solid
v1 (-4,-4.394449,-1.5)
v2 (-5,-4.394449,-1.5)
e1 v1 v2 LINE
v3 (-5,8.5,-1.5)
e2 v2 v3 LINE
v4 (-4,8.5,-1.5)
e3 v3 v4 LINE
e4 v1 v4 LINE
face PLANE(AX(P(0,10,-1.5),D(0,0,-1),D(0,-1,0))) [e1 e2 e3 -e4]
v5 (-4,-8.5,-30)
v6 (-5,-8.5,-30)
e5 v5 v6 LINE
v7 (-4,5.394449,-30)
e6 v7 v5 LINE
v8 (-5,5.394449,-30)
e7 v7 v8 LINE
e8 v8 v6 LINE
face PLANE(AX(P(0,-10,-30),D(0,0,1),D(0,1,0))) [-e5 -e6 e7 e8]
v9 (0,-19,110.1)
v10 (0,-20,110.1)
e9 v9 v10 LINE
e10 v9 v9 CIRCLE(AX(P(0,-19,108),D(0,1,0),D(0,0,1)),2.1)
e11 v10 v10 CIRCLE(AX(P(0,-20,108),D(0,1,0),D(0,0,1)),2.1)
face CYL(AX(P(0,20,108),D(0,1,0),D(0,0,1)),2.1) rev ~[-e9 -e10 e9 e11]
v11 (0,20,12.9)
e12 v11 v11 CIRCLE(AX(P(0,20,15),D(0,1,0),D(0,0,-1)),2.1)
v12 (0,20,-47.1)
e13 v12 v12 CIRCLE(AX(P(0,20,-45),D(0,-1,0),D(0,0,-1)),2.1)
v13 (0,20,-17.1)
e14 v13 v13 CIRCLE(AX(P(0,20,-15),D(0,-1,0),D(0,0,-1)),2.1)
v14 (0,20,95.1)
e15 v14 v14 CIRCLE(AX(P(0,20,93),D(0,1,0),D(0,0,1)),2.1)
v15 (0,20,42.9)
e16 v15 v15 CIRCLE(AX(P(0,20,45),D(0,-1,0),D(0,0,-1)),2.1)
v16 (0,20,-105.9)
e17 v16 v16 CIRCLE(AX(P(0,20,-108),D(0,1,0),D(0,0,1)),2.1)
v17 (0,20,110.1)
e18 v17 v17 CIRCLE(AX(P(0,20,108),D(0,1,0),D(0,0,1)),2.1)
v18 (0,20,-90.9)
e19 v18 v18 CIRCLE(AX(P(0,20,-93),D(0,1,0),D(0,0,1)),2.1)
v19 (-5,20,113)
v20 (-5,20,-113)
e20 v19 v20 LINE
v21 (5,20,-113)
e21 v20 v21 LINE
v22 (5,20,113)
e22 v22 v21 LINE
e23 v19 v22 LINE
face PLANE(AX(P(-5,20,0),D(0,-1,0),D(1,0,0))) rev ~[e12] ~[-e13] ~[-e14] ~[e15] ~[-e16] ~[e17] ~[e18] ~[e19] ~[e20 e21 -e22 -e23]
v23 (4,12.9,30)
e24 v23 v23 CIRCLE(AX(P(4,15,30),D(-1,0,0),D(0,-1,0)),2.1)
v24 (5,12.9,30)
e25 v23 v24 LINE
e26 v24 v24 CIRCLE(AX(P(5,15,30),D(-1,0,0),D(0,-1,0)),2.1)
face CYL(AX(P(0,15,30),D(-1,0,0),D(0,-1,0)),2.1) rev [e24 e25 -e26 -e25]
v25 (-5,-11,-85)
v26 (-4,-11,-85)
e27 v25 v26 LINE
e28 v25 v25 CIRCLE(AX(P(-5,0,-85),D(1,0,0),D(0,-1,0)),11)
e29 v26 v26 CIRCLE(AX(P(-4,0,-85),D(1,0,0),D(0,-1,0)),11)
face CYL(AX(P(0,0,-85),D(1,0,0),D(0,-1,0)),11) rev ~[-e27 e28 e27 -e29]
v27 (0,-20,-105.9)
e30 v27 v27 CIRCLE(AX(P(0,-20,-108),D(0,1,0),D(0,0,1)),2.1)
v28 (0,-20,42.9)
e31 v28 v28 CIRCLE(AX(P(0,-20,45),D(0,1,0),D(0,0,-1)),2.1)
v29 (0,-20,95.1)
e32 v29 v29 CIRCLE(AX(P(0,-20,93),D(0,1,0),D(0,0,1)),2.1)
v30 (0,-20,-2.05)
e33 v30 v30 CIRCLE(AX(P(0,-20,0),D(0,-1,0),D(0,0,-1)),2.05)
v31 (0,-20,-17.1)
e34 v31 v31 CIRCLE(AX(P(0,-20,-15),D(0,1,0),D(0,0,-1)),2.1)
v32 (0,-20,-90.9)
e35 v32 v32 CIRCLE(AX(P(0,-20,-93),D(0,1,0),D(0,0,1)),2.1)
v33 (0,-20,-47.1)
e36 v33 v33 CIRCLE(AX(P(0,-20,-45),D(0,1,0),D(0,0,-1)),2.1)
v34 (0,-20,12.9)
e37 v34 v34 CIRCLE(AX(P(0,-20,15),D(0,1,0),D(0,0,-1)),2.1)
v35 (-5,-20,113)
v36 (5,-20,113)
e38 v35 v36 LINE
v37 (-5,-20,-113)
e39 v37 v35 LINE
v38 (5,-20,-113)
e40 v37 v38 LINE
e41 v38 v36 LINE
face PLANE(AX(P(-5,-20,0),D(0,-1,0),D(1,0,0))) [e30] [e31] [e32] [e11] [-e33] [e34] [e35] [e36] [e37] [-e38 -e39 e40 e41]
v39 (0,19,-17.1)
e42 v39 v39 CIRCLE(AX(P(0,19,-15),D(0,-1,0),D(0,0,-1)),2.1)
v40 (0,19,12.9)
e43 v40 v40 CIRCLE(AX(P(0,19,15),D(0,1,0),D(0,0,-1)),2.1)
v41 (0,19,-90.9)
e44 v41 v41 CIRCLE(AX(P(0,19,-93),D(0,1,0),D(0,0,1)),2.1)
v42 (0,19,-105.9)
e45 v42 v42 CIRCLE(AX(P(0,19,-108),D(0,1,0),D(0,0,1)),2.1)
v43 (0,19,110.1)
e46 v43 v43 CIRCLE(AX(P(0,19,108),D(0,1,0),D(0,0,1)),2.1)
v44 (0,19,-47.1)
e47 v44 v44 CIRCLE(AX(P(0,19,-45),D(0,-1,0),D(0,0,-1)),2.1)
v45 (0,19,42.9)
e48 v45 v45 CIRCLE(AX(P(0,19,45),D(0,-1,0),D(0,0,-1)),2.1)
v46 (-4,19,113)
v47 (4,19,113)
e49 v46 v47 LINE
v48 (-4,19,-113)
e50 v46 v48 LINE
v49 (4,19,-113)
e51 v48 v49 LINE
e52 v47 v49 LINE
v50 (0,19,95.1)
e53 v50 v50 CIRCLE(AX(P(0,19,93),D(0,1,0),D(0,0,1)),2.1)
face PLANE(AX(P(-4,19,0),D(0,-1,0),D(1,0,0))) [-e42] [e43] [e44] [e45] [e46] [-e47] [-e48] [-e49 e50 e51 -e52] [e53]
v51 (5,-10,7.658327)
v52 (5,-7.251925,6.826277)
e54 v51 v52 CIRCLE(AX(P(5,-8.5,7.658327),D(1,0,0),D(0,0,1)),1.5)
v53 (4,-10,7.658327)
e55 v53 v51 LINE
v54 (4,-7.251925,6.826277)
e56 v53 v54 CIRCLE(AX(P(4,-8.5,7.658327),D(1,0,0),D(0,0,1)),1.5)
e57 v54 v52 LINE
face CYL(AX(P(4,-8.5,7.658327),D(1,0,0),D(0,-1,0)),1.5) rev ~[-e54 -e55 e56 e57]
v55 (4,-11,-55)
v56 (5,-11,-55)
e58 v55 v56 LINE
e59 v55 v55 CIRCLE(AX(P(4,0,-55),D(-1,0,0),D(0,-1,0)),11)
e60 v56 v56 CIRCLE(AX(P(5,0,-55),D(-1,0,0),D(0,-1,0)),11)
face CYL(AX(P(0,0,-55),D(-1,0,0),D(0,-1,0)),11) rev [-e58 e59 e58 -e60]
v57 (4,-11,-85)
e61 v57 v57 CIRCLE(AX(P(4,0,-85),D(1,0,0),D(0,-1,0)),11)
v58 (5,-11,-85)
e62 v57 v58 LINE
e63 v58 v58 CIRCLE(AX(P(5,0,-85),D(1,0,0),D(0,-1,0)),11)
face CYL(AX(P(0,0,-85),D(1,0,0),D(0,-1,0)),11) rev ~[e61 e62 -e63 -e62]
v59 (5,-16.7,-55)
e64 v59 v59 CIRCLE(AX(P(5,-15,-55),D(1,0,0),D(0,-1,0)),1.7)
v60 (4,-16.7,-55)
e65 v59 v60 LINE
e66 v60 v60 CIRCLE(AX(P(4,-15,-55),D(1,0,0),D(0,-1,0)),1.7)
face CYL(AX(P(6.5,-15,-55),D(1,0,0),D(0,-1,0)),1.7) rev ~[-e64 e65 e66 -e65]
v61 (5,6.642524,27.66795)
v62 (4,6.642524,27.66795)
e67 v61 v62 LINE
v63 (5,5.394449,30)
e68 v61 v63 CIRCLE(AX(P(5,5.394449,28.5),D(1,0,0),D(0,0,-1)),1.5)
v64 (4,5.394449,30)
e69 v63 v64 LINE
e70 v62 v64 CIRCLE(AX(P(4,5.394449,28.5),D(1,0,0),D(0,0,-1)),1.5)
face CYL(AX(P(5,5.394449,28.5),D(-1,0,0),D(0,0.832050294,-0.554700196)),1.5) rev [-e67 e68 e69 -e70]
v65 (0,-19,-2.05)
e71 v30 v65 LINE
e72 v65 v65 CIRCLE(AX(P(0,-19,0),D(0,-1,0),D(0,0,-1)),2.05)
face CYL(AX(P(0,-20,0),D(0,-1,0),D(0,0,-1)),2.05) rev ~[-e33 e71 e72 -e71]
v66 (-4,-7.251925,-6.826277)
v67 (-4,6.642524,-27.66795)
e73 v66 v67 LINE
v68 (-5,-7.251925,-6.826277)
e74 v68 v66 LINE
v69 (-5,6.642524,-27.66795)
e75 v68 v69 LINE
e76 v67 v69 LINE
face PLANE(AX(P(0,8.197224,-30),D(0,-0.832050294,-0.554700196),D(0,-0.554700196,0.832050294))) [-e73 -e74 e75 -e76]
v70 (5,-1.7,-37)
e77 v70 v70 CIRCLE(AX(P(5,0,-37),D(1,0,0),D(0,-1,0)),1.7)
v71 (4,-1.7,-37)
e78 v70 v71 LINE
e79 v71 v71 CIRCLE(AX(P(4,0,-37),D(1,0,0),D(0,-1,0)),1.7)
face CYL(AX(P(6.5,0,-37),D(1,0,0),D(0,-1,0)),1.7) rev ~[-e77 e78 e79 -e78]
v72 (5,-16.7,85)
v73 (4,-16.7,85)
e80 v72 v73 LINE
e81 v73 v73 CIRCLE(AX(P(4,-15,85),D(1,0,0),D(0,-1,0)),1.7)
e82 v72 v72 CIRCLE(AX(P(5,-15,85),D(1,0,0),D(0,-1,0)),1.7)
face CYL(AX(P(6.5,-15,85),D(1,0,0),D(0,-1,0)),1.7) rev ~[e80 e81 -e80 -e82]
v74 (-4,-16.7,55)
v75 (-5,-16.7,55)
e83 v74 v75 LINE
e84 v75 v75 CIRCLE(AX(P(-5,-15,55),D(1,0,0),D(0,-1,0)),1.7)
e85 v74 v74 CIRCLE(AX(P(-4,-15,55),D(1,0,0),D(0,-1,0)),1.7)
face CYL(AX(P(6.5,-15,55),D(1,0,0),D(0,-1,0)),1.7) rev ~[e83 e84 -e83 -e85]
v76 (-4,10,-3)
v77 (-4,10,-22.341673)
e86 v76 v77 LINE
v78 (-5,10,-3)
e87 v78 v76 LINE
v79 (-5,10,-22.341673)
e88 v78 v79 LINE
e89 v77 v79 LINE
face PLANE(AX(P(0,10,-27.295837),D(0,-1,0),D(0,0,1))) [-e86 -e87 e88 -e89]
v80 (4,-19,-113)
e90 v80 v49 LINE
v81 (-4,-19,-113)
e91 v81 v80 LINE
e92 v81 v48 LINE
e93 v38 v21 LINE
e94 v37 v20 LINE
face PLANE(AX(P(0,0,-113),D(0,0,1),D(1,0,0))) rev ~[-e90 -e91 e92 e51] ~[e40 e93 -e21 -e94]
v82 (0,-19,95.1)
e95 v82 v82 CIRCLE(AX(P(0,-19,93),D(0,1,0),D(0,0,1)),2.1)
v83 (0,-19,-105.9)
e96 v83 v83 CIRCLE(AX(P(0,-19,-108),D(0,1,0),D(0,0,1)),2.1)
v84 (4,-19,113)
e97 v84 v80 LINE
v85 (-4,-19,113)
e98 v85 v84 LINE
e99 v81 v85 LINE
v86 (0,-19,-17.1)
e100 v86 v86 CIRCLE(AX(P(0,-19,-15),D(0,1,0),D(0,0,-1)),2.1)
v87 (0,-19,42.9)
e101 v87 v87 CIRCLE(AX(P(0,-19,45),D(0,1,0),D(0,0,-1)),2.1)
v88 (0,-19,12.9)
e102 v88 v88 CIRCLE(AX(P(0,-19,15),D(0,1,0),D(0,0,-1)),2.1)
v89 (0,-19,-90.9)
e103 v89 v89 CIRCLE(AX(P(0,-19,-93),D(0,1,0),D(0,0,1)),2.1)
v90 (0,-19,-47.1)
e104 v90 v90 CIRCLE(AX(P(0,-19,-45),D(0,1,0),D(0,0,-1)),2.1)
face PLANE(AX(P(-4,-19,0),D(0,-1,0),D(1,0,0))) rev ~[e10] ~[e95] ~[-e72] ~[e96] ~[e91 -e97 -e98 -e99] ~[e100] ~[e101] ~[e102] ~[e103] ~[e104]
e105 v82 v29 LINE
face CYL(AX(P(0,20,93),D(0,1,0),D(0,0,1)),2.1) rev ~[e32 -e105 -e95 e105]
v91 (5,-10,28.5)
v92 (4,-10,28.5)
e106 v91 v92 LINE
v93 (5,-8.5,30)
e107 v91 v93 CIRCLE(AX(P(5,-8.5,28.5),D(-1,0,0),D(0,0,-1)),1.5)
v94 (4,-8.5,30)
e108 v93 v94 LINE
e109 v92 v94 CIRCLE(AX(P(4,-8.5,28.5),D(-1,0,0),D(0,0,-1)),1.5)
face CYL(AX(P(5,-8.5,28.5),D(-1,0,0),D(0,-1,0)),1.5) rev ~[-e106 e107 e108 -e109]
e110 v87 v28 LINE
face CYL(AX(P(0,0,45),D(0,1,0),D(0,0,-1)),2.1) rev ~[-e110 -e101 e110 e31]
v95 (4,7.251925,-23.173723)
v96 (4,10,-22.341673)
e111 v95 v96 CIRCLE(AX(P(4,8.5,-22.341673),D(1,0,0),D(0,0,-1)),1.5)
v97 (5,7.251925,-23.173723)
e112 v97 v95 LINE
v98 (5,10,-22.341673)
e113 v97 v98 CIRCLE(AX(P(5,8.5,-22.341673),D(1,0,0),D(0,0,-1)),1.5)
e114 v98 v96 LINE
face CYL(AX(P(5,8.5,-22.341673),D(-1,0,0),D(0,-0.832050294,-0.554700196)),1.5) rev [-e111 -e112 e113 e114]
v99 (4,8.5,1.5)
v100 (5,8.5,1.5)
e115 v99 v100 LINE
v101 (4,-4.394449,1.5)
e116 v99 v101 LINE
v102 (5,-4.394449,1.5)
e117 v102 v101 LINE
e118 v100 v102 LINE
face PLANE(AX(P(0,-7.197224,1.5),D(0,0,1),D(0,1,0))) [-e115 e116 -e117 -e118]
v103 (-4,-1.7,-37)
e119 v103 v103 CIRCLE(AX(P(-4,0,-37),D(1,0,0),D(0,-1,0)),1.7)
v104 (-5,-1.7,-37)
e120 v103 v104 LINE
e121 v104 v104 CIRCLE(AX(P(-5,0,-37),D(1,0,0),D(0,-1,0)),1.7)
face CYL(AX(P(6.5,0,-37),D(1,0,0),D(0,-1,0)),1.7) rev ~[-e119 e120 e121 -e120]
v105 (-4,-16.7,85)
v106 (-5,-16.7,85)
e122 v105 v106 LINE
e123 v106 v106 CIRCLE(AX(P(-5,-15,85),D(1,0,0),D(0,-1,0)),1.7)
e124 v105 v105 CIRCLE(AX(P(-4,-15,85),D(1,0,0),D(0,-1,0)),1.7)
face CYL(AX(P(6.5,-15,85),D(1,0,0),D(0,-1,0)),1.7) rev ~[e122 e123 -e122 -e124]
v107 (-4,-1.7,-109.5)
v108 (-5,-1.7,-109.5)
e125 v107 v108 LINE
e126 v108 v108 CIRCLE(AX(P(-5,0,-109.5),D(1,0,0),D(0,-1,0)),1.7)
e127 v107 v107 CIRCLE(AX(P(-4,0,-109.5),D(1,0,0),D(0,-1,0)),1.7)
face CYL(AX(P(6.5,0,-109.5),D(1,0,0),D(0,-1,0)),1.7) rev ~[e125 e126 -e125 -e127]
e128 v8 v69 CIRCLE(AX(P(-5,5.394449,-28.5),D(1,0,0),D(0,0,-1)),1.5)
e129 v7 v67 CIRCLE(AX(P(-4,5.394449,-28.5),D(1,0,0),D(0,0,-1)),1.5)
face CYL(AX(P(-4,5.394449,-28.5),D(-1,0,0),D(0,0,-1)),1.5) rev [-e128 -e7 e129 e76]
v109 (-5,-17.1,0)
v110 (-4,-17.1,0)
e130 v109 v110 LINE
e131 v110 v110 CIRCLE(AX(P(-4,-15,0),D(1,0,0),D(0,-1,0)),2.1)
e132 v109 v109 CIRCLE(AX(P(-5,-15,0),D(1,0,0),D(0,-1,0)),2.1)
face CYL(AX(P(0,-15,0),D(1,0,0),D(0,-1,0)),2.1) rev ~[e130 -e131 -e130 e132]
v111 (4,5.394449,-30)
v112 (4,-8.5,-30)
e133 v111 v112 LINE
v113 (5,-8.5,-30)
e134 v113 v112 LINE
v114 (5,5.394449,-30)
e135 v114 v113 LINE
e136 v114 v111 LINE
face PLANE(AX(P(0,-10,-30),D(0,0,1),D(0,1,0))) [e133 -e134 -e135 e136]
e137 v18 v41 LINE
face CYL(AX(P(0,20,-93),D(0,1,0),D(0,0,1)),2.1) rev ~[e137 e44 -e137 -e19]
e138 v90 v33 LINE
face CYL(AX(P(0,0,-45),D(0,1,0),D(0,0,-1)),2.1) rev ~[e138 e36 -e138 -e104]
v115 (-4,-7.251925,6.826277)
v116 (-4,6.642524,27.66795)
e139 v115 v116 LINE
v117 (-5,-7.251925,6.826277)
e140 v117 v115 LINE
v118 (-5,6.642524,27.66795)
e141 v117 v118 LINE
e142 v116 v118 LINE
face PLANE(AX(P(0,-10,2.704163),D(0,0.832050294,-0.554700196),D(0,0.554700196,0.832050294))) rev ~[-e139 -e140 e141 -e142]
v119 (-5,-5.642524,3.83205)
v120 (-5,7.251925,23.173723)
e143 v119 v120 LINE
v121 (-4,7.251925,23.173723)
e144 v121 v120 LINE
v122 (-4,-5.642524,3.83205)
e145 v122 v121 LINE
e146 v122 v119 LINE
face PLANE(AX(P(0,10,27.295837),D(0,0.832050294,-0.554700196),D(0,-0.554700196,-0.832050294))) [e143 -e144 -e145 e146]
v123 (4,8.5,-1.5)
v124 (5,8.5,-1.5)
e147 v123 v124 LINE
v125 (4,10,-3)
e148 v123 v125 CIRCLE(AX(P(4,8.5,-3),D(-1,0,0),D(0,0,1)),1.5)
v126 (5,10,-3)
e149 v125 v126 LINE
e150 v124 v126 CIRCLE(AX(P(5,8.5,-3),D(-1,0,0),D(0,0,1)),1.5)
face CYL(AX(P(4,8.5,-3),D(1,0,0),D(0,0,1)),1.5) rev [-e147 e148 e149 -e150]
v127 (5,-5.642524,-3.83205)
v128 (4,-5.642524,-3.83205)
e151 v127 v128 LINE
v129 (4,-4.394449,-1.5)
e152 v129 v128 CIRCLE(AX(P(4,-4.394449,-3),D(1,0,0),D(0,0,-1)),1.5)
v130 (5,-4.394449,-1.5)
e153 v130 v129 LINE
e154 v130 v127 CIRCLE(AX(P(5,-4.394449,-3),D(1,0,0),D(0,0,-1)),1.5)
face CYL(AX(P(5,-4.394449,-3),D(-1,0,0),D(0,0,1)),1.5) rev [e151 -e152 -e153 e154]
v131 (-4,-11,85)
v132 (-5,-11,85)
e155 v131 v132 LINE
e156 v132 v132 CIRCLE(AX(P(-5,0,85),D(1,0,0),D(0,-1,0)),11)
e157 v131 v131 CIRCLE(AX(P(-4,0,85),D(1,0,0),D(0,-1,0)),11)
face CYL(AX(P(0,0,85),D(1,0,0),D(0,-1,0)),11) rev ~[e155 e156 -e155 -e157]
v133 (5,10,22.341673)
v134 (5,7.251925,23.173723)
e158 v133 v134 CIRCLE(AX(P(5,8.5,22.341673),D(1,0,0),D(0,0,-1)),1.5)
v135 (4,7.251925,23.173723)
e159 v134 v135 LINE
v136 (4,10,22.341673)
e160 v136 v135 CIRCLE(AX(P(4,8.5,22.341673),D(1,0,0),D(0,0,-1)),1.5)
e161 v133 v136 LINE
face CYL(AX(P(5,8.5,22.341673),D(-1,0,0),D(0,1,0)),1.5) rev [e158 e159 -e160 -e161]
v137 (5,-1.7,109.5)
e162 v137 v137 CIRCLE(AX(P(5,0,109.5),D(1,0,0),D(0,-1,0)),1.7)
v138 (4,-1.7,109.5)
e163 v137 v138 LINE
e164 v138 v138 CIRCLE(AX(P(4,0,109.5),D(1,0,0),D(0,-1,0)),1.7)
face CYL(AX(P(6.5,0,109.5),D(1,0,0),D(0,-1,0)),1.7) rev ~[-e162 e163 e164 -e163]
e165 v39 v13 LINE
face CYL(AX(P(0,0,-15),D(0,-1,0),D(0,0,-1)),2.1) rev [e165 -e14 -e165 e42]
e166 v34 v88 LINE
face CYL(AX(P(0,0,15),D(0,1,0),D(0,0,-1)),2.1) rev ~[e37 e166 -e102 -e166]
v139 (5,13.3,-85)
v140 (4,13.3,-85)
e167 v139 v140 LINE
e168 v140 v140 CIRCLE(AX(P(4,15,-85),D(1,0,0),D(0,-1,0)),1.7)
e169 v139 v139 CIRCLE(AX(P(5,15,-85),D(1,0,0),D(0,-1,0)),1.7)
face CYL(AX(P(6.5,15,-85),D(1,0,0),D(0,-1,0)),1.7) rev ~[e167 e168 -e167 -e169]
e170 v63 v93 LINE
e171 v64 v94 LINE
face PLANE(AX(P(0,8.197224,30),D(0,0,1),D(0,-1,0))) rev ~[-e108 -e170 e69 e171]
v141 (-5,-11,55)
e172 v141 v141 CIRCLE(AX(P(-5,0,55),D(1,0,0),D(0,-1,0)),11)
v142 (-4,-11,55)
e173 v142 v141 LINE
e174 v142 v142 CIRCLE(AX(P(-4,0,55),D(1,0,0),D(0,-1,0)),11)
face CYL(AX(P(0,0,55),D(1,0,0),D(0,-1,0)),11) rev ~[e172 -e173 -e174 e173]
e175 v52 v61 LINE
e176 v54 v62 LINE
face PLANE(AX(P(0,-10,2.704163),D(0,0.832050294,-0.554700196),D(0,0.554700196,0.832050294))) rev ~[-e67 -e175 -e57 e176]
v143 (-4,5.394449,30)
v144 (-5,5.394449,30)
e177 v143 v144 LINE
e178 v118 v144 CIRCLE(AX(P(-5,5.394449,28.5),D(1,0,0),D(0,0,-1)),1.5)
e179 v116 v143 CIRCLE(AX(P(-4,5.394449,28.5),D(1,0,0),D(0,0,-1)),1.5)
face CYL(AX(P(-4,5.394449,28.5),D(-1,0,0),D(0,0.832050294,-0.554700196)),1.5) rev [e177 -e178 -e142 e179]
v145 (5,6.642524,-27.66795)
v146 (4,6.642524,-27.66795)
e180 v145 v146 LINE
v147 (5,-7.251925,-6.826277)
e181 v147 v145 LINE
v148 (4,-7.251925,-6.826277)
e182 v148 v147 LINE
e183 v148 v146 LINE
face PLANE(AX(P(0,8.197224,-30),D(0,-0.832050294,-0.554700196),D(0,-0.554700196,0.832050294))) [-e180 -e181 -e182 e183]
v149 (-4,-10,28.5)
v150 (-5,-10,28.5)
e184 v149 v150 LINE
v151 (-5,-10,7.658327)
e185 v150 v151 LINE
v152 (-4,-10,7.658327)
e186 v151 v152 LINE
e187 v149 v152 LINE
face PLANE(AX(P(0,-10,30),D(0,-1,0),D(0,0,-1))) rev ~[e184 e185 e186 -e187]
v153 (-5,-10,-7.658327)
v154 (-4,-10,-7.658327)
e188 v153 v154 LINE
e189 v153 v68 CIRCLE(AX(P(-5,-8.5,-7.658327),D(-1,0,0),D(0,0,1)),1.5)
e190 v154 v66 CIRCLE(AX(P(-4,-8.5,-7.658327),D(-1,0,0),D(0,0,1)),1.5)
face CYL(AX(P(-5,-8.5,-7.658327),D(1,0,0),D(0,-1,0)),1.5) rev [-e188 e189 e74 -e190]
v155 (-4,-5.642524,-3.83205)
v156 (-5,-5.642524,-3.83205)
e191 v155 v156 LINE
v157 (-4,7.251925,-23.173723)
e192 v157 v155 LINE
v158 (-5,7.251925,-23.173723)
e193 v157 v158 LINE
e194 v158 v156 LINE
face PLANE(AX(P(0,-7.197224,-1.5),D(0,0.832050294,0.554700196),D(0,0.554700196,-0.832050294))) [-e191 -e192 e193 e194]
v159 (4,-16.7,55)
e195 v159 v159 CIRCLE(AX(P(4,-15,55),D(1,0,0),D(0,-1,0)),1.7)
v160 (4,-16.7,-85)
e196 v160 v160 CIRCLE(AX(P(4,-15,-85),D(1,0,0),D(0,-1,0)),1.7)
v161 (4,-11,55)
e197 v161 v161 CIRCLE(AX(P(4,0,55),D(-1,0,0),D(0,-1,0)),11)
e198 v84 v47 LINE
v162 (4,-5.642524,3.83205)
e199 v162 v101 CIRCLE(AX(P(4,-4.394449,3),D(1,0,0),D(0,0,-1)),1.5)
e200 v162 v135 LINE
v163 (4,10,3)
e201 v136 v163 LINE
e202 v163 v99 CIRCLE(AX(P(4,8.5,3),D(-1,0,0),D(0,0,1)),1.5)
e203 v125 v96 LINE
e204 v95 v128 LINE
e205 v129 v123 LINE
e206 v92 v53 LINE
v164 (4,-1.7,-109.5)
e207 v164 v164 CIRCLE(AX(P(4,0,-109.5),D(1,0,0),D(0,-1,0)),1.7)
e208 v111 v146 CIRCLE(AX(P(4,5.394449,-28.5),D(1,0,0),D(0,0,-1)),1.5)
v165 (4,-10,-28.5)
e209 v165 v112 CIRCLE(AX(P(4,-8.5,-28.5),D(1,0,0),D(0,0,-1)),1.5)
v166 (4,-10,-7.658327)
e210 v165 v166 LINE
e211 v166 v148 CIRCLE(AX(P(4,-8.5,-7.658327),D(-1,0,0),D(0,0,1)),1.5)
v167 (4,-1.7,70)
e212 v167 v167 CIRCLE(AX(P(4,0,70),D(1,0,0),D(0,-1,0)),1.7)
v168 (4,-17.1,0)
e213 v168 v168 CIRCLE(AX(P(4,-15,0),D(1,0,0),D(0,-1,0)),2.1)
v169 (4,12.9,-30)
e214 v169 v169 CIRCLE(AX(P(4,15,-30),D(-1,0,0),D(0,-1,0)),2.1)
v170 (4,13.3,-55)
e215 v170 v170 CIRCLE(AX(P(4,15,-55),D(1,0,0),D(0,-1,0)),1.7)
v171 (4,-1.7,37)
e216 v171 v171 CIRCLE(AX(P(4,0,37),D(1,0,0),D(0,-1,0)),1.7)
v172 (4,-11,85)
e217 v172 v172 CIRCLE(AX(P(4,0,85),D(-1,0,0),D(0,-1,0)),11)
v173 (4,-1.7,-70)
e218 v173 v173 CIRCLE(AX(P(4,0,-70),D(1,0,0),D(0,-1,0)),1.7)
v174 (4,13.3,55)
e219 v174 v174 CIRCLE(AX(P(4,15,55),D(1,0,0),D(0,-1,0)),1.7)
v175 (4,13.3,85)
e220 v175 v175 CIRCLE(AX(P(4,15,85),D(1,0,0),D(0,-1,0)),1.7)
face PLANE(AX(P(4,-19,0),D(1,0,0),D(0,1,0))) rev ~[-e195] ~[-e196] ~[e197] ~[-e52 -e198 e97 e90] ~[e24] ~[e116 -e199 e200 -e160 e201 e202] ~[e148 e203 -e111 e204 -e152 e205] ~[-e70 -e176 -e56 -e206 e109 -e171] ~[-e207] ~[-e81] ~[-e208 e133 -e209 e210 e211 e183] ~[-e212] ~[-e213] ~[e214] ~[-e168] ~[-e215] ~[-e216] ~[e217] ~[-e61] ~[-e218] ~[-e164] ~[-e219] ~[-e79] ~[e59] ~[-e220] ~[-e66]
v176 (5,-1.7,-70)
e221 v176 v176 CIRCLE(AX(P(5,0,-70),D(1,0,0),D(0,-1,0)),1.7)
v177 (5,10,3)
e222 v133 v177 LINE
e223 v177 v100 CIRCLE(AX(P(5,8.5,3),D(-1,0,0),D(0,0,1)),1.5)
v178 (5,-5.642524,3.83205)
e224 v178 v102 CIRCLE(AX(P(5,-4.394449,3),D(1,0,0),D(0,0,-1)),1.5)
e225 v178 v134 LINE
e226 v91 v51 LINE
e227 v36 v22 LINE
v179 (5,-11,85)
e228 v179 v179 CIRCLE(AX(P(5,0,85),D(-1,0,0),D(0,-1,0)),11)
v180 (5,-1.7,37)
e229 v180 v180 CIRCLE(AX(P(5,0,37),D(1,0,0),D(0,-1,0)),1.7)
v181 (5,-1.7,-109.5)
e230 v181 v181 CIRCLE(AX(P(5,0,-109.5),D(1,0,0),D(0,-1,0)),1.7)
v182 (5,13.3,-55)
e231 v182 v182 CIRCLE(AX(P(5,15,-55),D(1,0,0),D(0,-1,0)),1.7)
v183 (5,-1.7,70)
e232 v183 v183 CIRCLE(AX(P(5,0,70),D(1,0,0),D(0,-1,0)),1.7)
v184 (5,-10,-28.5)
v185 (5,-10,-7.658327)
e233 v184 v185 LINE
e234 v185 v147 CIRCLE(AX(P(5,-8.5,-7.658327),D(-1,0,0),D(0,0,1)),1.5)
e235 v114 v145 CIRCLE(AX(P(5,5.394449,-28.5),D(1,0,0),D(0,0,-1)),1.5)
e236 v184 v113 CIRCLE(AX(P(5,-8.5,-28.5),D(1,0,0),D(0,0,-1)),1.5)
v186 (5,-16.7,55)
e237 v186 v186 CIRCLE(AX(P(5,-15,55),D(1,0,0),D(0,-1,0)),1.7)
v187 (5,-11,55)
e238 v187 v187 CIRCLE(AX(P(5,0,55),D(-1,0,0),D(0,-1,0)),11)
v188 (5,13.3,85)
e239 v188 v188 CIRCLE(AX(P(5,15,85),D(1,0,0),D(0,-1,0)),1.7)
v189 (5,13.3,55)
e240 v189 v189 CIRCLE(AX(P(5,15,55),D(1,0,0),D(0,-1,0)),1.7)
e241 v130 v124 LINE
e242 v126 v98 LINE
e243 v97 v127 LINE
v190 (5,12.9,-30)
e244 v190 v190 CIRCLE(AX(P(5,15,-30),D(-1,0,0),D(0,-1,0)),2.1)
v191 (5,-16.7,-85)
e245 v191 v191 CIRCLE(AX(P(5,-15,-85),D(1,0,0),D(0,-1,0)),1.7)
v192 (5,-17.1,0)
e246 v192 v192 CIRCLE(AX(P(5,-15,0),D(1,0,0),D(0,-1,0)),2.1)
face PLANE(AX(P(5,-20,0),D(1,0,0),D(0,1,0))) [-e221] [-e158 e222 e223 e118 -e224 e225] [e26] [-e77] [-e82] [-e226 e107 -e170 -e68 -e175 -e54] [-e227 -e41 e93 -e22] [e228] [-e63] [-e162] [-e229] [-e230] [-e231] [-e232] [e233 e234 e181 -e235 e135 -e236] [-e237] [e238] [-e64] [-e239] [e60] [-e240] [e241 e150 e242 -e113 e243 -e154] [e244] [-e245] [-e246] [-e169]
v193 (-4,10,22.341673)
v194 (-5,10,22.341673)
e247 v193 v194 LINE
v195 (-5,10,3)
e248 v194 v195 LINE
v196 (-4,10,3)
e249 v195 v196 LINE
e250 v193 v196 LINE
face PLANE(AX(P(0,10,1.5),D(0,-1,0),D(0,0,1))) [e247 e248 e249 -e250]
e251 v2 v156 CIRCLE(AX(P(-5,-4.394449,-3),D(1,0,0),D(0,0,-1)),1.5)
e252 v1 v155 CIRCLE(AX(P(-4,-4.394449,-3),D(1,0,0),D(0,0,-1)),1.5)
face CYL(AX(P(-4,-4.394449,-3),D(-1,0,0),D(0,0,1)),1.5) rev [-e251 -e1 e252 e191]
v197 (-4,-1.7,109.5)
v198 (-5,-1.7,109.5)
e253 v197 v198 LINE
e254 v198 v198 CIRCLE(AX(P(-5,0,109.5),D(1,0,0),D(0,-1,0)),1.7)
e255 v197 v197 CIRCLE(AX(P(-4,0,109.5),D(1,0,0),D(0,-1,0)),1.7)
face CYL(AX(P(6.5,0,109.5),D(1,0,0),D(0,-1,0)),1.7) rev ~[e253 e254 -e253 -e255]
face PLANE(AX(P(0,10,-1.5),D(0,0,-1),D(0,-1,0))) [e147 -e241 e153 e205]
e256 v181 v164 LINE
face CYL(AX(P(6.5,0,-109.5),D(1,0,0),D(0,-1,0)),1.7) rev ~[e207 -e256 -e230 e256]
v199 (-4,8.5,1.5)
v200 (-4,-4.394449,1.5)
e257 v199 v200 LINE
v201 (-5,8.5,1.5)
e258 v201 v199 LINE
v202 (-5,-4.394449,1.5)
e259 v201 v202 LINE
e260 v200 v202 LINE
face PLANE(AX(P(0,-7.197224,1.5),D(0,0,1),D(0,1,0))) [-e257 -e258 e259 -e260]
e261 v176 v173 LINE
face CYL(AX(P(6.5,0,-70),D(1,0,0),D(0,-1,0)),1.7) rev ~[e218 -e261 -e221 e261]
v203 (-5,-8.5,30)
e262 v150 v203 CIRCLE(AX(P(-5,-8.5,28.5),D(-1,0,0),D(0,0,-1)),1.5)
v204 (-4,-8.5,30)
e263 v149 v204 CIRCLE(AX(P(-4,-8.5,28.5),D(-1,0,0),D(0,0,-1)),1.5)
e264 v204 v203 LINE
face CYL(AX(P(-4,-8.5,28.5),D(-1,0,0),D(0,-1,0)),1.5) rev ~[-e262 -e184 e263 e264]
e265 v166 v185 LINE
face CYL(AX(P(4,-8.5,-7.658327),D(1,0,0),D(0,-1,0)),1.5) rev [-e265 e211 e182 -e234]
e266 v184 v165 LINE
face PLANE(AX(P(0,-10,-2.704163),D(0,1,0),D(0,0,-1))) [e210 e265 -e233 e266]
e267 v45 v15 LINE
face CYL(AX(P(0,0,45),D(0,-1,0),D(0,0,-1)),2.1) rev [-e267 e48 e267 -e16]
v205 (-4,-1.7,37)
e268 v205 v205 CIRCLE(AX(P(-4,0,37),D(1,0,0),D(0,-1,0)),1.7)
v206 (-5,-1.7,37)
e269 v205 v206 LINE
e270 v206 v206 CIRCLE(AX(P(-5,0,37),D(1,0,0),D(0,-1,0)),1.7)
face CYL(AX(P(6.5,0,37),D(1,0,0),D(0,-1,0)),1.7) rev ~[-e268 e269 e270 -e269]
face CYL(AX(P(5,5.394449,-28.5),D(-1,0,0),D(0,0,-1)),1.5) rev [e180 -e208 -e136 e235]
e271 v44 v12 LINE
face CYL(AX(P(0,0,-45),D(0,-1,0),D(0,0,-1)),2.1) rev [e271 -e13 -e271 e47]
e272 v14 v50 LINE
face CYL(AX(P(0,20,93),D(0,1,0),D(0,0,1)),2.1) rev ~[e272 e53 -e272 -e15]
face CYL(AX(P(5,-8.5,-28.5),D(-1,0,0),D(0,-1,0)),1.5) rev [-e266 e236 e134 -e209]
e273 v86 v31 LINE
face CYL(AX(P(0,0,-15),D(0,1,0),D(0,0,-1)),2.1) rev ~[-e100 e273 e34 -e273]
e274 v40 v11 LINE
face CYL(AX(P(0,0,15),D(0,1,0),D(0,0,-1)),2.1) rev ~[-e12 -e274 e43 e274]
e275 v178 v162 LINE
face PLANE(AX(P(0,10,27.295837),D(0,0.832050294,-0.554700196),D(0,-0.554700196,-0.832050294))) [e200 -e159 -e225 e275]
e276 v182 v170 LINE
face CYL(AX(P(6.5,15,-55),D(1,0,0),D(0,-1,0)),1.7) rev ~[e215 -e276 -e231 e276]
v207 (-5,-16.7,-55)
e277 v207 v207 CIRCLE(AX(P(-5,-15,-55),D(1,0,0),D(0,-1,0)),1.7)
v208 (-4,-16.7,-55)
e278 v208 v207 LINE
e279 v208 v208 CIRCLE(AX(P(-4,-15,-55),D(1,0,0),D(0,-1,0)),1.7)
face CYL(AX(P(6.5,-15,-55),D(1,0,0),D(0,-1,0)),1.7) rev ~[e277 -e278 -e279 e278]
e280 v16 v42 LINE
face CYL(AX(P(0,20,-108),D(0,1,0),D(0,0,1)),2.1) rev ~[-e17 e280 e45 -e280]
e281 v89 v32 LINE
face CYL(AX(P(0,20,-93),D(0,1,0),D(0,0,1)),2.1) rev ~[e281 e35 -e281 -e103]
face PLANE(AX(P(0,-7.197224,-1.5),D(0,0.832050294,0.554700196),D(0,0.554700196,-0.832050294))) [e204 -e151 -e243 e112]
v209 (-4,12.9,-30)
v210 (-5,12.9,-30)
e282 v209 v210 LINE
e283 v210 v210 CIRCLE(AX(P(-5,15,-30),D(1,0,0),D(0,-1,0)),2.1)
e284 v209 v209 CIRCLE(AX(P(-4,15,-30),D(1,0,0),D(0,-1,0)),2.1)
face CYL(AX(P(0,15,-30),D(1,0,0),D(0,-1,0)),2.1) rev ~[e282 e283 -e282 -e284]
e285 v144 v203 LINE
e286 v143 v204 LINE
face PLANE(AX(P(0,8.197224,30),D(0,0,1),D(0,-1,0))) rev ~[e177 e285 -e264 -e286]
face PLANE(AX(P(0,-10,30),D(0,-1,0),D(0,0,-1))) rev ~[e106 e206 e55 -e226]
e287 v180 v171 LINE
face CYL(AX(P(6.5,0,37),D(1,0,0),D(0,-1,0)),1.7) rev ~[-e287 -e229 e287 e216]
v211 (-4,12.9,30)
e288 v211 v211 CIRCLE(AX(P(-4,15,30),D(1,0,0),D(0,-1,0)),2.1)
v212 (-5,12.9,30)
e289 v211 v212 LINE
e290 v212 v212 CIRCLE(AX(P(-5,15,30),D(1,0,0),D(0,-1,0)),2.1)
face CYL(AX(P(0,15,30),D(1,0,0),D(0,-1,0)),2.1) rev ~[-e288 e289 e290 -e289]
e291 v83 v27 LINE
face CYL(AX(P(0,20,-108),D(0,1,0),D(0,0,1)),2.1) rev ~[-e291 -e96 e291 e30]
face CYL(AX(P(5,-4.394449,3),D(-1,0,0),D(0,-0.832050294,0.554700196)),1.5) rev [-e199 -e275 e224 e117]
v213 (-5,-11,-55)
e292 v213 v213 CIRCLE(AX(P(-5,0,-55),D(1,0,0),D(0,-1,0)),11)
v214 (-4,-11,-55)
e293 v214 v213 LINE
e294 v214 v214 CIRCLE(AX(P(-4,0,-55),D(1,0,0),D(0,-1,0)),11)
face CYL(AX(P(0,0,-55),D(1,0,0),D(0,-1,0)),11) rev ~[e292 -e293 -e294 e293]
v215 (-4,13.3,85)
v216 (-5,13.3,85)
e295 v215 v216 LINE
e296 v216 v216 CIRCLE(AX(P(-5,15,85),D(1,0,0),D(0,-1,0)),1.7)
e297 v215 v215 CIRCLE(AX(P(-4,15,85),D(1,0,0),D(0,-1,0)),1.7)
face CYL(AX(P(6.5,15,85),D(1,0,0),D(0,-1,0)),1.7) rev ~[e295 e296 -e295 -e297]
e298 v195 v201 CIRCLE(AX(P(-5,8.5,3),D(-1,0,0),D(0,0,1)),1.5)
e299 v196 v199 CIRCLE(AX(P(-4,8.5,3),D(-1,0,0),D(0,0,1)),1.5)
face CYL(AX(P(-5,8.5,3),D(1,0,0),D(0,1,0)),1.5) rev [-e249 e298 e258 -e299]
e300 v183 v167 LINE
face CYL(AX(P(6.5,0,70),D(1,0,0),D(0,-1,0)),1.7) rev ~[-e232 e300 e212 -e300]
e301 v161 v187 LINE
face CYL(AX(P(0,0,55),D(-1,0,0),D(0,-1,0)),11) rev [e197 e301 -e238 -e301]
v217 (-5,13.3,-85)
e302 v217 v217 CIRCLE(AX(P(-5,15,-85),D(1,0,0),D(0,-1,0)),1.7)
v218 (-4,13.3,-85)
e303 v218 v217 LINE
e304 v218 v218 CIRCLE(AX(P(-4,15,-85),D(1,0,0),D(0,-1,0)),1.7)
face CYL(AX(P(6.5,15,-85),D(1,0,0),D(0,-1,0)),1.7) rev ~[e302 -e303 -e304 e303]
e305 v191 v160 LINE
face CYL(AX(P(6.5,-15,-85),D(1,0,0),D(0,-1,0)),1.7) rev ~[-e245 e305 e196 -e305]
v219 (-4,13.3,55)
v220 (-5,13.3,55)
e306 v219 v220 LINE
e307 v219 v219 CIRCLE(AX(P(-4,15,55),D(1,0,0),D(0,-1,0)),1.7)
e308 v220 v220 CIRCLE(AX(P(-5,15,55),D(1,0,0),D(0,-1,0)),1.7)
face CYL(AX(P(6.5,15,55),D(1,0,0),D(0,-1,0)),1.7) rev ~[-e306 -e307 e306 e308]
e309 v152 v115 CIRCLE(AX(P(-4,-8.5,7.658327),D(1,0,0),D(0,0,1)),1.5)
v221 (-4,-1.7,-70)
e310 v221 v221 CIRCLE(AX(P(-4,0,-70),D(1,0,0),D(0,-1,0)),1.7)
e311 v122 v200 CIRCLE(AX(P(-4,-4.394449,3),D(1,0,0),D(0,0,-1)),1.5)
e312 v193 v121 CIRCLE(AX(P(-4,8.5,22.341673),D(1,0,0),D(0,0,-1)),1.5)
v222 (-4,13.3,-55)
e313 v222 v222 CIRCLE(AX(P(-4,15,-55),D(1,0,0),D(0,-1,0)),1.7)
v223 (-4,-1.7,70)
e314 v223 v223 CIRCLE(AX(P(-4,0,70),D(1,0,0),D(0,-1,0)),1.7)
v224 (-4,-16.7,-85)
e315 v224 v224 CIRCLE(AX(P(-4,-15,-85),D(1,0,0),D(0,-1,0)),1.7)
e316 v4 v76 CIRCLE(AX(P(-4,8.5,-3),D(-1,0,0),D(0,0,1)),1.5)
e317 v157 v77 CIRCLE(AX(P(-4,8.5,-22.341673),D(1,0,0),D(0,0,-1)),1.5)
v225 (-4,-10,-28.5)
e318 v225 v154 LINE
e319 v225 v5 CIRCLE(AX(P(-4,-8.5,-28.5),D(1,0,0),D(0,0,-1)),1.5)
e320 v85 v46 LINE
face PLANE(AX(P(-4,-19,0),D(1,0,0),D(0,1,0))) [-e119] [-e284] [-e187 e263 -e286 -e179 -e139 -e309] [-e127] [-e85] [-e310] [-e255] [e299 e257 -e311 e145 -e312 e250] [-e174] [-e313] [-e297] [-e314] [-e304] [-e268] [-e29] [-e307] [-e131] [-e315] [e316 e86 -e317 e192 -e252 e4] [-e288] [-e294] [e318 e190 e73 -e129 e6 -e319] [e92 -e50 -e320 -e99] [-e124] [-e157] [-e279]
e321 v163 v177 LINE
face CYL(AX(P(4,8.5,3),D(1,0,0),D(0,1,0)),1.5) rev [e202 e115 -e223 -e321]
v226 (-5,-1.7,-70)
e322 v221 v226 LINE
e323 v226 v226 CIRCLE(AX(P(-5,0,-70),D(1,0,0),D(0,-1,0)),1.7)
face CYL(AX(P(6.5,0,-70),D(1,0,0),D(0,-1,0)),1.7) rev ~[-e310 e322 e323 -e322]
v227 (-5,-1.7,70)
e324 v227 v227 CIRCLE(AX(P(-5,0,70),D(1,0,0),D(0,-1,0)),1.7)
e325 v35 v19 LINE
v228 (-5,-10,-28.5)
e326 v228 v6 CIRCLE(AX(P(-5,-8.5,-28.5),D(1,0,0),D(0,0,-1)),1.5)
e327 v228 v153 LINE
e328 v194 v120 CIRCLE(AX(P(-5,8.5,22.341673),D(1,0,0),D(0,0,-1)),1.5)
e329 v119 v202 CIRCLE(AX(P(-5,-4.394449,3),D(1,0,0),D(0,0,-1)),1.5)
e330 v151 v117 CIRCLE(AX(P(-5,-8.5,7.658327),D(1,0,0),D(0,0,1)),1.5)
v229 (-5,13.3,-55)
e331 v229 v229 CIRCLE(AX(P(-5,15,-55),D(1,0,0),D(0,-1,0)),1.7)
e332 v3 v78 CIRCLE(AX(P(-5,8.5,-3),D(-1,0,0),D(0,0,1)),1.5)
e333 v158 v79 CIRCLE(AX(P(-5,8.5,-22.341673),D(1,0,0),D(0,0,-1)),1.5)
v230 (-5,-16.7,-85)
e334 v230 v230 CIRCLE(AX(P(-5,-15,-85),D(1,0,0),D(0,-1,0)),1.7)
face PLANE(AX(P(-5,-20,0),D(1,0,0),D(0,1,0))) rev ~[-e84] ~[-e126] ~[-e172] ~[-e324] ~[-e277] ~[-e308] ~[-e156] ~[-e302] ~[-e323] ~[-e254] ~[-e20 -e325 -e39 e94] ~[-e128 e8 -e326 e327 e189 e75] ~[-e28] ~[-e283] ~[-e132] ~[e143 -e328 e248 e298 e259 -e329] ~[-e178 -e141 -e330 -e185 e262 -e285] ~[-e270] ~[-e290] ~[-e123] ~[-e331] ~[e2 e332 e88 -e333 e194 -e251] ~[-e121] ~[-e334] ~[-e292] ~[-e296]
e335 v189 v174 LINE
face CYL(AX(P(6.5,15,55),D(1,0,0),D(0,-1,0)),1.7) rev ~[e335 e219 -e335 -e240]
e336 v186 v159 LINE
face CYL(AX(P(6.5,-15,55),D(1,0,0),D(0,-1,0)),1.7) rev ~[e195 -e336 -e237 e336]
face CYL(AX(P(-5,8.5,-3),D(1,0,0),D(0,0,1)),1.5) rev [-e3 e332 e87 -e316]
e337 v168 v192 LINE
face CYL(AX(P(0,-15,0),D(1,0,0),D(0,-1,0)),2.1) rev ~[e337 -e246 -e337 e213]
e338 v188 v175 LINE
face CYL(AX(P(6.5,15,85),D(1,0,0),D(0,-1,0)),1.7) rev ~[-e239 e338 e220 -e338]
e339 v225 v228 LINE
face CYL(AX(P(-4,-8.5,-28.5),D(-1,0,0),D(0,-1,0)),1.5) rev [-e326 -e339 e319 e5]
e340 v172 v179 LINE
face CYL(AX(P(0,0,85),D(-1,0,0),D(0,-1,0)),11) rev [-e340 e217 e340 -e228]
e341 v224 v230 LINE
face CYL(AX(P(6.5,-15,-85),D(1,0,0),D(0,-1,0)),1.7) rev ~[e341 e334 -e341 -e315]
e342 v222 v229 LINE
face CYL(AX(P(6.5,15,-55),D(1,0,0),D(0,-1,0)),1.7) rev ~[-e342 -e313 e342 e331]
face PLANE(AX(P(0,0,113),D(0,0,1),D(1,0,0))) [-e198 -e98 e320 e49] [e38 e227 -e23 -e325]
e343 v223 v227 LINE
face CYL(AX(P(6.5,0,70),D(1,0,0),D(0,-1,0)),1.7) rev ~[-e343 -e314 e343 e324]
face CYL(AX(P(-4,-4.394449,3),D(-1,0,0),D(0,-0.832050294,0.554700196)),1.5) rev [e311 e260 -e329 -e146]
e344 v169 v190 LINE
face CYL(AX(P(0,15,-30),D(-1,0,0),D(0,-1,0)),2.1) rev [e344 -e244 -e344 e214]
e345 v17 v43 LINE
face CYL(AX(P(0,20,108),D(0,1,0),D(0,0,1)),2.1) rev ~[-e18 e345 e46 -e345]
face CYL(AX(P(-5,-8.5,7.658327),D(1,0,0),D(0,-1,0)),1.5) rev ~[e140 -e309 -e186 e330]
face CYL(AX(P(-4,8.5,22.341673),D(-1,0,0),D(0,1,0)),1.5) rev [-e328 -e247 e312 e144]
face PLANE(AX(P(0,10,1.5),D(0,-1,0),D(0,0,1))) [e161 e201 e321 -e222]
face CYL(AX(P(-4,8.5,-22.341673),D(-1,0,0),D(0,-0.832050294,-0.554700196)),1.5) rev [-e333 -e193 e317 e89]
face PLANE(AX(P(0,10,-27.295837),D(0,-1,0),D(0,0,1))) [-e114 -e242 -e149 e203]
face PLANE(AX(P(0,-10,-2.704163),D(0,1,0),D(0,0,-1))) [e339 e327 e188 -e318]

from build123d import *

# Parameters (mm, degrees)
SKETCH_1_W          = 10
SKETCH_1_H          = 40
SKETCH_1_W_2        = 8
SKETCH_1_H_2        = 38
EXTRUDE_1_DEPTH     = 113
SKETCH_3_R          = 2.1
CUT_EXTRUDE_1_DEPTH = 15
SKETCH_5_R          = 2.1
CUT_EXTRUDE_3_DEPTH = 25
CUT_EXTRUDE_4_DEPTH = 25
FILLET_3_R          = 1.5
FILLET_4_R          = 1.5
SKETCH_10_R         = 11
CUT_EXTRUDE_6_DEPTH = 25
CUT_EXTRUDE_7_REACH = 121.975
SKETCH_11_R         = 2.05
SKETCH_12_R         = 2.1
CUT_EXTRUDE_8_DEPTH = 120.974997395
SKETCH_15_R         = 2.1
SKETCH_15_R_2       = 1.7
CUT_EXTRUDE_9_DEPTH = 116.331045257


with BuildPart() as part:
    # 草图1 → 凸台-拉伸1 (new, symmetric)
    with BuildSketch(Plane.XY):
        Rectangle(SKETCH_1_W, SKETCH_1_H)
        Rectangle(SKETCH_1_W_2, SKETCH_1_H_2, mode=Mode.SUBTRACT)
    extrude(amount=EXTRUDE_1_DEPTH, both=True)

    # 草图3 → 切除-拉伸1 (cut, symmetric)
    with BuildSketch(Plane(origin=(0, 0, 0), x_dir=(0, 0, -1), z_dir=(1, 0, 0))):
        with Locations(Location((30, 15, 0), (0, 0, 270))):
            Circle(SKETCH_3_R)
        with Locations(Location((-30, 15, 0), (0, 0, 270))):
            Circle(SKETCH_3_R)
        with Locations(Location((0, -15, 0), (0, 0, 270))):
            Circle(SKETCH_3_R)
    extrude(amount=CUT_EXTRUDE_1_DEPTH, both=True, mode=Mode.SUBTRACT)

    # 草图5 → 切除-拉伸3 (cut, symmetric)
    with BuildSketch(Plane(origin=(0, 0, 0), x_dir=(1, 0, 0), z_dir=(0, 1, 0))):
        with Locations(Location((0, 15, 0), (0, 0, 90))):
            Circle(SKETCH_5_R)
        with Locations(Location((0, 45, 0), (0, 0, 90))):
            Circle(SKETCH_5_R)
        with Locations(Location((0, -45, 0), (0, 0, 90))):
            Circle(SKETCH_5_R)
        with Locations(Location((0, -15, 0), (0, 0, 90))):
            Circle(SKETCH_5_R)
    extrude(amount=CUT_EXTRUDE_3_DEPTH, both=True, mode=Mode.SUBTRACT)

    # 草图7 → 切除-拉伸4 (cut, symmetric)
    with BuildSketch(Plane(origin=(0, 0, 0), x_dir=(0, 0, -1), z_dir=(1, 0, 0))):
        Polygon((-1.5, -7.197224362), (-1.5, 10), (-27.295836543, 10), align=None)
        Polygon((27.295836543, 10), (1.5, 10), (1.5, -7.197224362), align=None)
        Polygon((30, 8.197224362), (2.704163457, -10), (30, -10), align=None)
        Polygon((-30, -10), (-2.704163457, -10), (-30, 8.197224362), align=None)
    extrude(amount=CUT_EXTRUDE_4_DEPTH, both=True, mode=Mode.SUBTRACT)

    # 圆角3
    fillet_3_edges = [part.edges().sort_by_distance(p)[0] for p in [
        (4.5, 8.197224362, 30),
        (4.5, -10, 2.704163457),
        (4.5, -10, 30),
        (4.5, 10, -27.295836543),
        (4.5, -7.197224362, -1.5),
        (4.5, 10, -1.5),
        (4.5, 8.197224362, -30),
        (4.5, -10, -30),
        (4.5, -10, -2.704163457),
        (4.5, 10, 1.5),
        (4.5, -7.197224362, 1.5),
        (4.5, 10, 27.295836543),
    ]]
    fillet(fillet_3_edges, radius=FILLET_3_R)

    # 圆角4
    fillet_4_edges = [part.edges().sort_by_distance(p)[0] for p in [
        (-4.5, 8.197224362, 30),
        (-4.5, -10, 2.704163457),
        (-4.5, -10, 30),
        (-4.5, 10, -27.295836543),
        (-4.5, -7.197224362, -1.5),
        (-4.5, 10, -1.5),
        (-4.5, 8.197224362, -30),
        (-4.5, -10, -30),
        (-4.5, -10, -2.704163457),
        (-4.5, 10, 1.5),
        (-4.5, -7.197224362, 1.5),
        (-4.5, 10, 27.295836543),
    ]]
    fillet(fillet_4_edges, radius=FILLET_4_R)

    # 草图10 → 切除-拉伸6 (cut, symmetric)
    with BuildSketch(Plane(origin=(0, 0, 0), x_dir=(0, 0, -1), z_dir=(1, 0, 0))):
        with Locations(Location((-85, 0, 0), (0, 0, 270))):
            Circle(SKETCH_10_R)
        with Locations(Location((-55, 0, 0), (0, 0, 270))):
            Circle(SKETCH_10_R)
        with Locations(Location((55, 0, 0), (0, 0, 270))):
            Circle(SKETCH_10_R)
        with Locations(Location((85, 0, 0), (0, 0, 270))):
            Circle(SKETCH_10_R)
    extrude(amount=CUT_EXTRUDE_6_DEPTH, both=True, mode=Mode.SUBTRACT)

    # 草图11 → 切除-拉伸7 (cut, up to next)
    with BuildSketch(Plane.XZ.offset(20), mode=Mode.PRIVATE) as cut_extrude_7_sk1:
        with Locations(Location((0, 0, 0), (0, 0, 270))):
            Circle(SKETCH_11_R)
    cut_extrude_7_tool1 = extrude(cut_extrude_7_sk1.sketch, amount=-CUT_EXTRUDE_7_REACH, mode=Mode.PRIVATE) & part.part
    add(cut_extrude_7_tool1.solids().sort_by_distance((0, -20, 0))[0], mode=Mode.SUBTRACT)

    # 草图12 → 切除-拉伸8 (cut, through all)
    with BuildSketch(Plane(origin=(0, 20, 0), x_dir=(1, 0, 0), z_dir=(0, 1, 0))):
        with Locations(Location((0, 108, 0), (0, 0, 270))):
            Circle(SKETCH_12_R)
        with Locations(Location((0, 93, 0), (0, 0, 270))):
            Circle(SKETCH_12_R)
        with Locations(Location((0, -108, 0), (0, 0, 270))):
            Circle(SKETCH_12_R)
        with Locations(Location((0, -93, 0), (0, 0, 270))):
            Circle(SKETCH_12_R)
    extrude(amount=-CUT_EXTRUDE_8_DEPTH, mode=Mode.SUBTRACT)

    # 草图15 → 切除-拉伸9 (cut, through all)
    with BuildSketch(Plane(origin=(6.5, 0, 0), x_dir=(0, 0, -1), z_dir=(1, 0, 0))):
        with Locations(Location((0, -15, 0), (0, 0, 270))):
            Circle(SKETCH_15_R)
        with Locations(Location((30, 15, 0), (0, 0, 270))):
            Circle(SKETCH_15_R)
        with Locations(Location((-30, 15, 0), (0, 0, 270))):
            Circle(SKETCH_15_R)
        with Locations(Location((-37, 0, 0), (0, 0, 270))):
            Circle(SKETCH_15_R_2)
        with Locations(Location((37, 0, 0), (0, 0, 270))):
            Circle(SKETCH_15_R_2)
        with Locations(Location((70, 0, 0), (0, 0, 270))):
            Circle(SKETCH_15_R_2)
        with Locations(Location((-109.5, 0, 0), (0, 0, 270))):
            Circle(SKETCH_15_R_2)
        with Locations(Location((-85, -15, 0), (0, 0, 270))):
            Circle(SKETCH_15_R_2)
        with Locations(Location((109.5, 0, 0), (0, 0, 270))):
            Circle(SKETCH_15_R_2)
        with Locations(Location((-55, 15, 0), (0, 0, 270))):
            Circle(SKETCH_15_R_2)
        with Locations(Location((-70, 0, 0), (0, 0, 270))):
            Circle(SKETCH_15_R_2)
        with Locations(Location((55, 15, 0), (0, 0, 270))):
            Circle(SKETCH_15_R_2)
        with Locations(Location((-55, -15, 0), (0, 0, 270))):
            Circle(SKETCH_15_R_2)
        with Locations(Location((85, 15, 0), (0, 0, 270))):
            Circle(SKETCH_15_R_2)
        with Locations(Location((-85, 15, 0), (0, 0, 270))):
            Circle(SKETCH_15_R_2)
        with Locations(Location((55, -15, 0), (0, 0, 270))):
            Circle(SKETCH_15_R_2)
        with Locations(Location((85, -15, 0), (0, 0, 270))):
            Circle(SKETCH_15_R_2)
    extrude(amount=-CUT_EXTRUDE_9_DEPTH, mode=Mode.SUBTRACT)


solid = part.part
